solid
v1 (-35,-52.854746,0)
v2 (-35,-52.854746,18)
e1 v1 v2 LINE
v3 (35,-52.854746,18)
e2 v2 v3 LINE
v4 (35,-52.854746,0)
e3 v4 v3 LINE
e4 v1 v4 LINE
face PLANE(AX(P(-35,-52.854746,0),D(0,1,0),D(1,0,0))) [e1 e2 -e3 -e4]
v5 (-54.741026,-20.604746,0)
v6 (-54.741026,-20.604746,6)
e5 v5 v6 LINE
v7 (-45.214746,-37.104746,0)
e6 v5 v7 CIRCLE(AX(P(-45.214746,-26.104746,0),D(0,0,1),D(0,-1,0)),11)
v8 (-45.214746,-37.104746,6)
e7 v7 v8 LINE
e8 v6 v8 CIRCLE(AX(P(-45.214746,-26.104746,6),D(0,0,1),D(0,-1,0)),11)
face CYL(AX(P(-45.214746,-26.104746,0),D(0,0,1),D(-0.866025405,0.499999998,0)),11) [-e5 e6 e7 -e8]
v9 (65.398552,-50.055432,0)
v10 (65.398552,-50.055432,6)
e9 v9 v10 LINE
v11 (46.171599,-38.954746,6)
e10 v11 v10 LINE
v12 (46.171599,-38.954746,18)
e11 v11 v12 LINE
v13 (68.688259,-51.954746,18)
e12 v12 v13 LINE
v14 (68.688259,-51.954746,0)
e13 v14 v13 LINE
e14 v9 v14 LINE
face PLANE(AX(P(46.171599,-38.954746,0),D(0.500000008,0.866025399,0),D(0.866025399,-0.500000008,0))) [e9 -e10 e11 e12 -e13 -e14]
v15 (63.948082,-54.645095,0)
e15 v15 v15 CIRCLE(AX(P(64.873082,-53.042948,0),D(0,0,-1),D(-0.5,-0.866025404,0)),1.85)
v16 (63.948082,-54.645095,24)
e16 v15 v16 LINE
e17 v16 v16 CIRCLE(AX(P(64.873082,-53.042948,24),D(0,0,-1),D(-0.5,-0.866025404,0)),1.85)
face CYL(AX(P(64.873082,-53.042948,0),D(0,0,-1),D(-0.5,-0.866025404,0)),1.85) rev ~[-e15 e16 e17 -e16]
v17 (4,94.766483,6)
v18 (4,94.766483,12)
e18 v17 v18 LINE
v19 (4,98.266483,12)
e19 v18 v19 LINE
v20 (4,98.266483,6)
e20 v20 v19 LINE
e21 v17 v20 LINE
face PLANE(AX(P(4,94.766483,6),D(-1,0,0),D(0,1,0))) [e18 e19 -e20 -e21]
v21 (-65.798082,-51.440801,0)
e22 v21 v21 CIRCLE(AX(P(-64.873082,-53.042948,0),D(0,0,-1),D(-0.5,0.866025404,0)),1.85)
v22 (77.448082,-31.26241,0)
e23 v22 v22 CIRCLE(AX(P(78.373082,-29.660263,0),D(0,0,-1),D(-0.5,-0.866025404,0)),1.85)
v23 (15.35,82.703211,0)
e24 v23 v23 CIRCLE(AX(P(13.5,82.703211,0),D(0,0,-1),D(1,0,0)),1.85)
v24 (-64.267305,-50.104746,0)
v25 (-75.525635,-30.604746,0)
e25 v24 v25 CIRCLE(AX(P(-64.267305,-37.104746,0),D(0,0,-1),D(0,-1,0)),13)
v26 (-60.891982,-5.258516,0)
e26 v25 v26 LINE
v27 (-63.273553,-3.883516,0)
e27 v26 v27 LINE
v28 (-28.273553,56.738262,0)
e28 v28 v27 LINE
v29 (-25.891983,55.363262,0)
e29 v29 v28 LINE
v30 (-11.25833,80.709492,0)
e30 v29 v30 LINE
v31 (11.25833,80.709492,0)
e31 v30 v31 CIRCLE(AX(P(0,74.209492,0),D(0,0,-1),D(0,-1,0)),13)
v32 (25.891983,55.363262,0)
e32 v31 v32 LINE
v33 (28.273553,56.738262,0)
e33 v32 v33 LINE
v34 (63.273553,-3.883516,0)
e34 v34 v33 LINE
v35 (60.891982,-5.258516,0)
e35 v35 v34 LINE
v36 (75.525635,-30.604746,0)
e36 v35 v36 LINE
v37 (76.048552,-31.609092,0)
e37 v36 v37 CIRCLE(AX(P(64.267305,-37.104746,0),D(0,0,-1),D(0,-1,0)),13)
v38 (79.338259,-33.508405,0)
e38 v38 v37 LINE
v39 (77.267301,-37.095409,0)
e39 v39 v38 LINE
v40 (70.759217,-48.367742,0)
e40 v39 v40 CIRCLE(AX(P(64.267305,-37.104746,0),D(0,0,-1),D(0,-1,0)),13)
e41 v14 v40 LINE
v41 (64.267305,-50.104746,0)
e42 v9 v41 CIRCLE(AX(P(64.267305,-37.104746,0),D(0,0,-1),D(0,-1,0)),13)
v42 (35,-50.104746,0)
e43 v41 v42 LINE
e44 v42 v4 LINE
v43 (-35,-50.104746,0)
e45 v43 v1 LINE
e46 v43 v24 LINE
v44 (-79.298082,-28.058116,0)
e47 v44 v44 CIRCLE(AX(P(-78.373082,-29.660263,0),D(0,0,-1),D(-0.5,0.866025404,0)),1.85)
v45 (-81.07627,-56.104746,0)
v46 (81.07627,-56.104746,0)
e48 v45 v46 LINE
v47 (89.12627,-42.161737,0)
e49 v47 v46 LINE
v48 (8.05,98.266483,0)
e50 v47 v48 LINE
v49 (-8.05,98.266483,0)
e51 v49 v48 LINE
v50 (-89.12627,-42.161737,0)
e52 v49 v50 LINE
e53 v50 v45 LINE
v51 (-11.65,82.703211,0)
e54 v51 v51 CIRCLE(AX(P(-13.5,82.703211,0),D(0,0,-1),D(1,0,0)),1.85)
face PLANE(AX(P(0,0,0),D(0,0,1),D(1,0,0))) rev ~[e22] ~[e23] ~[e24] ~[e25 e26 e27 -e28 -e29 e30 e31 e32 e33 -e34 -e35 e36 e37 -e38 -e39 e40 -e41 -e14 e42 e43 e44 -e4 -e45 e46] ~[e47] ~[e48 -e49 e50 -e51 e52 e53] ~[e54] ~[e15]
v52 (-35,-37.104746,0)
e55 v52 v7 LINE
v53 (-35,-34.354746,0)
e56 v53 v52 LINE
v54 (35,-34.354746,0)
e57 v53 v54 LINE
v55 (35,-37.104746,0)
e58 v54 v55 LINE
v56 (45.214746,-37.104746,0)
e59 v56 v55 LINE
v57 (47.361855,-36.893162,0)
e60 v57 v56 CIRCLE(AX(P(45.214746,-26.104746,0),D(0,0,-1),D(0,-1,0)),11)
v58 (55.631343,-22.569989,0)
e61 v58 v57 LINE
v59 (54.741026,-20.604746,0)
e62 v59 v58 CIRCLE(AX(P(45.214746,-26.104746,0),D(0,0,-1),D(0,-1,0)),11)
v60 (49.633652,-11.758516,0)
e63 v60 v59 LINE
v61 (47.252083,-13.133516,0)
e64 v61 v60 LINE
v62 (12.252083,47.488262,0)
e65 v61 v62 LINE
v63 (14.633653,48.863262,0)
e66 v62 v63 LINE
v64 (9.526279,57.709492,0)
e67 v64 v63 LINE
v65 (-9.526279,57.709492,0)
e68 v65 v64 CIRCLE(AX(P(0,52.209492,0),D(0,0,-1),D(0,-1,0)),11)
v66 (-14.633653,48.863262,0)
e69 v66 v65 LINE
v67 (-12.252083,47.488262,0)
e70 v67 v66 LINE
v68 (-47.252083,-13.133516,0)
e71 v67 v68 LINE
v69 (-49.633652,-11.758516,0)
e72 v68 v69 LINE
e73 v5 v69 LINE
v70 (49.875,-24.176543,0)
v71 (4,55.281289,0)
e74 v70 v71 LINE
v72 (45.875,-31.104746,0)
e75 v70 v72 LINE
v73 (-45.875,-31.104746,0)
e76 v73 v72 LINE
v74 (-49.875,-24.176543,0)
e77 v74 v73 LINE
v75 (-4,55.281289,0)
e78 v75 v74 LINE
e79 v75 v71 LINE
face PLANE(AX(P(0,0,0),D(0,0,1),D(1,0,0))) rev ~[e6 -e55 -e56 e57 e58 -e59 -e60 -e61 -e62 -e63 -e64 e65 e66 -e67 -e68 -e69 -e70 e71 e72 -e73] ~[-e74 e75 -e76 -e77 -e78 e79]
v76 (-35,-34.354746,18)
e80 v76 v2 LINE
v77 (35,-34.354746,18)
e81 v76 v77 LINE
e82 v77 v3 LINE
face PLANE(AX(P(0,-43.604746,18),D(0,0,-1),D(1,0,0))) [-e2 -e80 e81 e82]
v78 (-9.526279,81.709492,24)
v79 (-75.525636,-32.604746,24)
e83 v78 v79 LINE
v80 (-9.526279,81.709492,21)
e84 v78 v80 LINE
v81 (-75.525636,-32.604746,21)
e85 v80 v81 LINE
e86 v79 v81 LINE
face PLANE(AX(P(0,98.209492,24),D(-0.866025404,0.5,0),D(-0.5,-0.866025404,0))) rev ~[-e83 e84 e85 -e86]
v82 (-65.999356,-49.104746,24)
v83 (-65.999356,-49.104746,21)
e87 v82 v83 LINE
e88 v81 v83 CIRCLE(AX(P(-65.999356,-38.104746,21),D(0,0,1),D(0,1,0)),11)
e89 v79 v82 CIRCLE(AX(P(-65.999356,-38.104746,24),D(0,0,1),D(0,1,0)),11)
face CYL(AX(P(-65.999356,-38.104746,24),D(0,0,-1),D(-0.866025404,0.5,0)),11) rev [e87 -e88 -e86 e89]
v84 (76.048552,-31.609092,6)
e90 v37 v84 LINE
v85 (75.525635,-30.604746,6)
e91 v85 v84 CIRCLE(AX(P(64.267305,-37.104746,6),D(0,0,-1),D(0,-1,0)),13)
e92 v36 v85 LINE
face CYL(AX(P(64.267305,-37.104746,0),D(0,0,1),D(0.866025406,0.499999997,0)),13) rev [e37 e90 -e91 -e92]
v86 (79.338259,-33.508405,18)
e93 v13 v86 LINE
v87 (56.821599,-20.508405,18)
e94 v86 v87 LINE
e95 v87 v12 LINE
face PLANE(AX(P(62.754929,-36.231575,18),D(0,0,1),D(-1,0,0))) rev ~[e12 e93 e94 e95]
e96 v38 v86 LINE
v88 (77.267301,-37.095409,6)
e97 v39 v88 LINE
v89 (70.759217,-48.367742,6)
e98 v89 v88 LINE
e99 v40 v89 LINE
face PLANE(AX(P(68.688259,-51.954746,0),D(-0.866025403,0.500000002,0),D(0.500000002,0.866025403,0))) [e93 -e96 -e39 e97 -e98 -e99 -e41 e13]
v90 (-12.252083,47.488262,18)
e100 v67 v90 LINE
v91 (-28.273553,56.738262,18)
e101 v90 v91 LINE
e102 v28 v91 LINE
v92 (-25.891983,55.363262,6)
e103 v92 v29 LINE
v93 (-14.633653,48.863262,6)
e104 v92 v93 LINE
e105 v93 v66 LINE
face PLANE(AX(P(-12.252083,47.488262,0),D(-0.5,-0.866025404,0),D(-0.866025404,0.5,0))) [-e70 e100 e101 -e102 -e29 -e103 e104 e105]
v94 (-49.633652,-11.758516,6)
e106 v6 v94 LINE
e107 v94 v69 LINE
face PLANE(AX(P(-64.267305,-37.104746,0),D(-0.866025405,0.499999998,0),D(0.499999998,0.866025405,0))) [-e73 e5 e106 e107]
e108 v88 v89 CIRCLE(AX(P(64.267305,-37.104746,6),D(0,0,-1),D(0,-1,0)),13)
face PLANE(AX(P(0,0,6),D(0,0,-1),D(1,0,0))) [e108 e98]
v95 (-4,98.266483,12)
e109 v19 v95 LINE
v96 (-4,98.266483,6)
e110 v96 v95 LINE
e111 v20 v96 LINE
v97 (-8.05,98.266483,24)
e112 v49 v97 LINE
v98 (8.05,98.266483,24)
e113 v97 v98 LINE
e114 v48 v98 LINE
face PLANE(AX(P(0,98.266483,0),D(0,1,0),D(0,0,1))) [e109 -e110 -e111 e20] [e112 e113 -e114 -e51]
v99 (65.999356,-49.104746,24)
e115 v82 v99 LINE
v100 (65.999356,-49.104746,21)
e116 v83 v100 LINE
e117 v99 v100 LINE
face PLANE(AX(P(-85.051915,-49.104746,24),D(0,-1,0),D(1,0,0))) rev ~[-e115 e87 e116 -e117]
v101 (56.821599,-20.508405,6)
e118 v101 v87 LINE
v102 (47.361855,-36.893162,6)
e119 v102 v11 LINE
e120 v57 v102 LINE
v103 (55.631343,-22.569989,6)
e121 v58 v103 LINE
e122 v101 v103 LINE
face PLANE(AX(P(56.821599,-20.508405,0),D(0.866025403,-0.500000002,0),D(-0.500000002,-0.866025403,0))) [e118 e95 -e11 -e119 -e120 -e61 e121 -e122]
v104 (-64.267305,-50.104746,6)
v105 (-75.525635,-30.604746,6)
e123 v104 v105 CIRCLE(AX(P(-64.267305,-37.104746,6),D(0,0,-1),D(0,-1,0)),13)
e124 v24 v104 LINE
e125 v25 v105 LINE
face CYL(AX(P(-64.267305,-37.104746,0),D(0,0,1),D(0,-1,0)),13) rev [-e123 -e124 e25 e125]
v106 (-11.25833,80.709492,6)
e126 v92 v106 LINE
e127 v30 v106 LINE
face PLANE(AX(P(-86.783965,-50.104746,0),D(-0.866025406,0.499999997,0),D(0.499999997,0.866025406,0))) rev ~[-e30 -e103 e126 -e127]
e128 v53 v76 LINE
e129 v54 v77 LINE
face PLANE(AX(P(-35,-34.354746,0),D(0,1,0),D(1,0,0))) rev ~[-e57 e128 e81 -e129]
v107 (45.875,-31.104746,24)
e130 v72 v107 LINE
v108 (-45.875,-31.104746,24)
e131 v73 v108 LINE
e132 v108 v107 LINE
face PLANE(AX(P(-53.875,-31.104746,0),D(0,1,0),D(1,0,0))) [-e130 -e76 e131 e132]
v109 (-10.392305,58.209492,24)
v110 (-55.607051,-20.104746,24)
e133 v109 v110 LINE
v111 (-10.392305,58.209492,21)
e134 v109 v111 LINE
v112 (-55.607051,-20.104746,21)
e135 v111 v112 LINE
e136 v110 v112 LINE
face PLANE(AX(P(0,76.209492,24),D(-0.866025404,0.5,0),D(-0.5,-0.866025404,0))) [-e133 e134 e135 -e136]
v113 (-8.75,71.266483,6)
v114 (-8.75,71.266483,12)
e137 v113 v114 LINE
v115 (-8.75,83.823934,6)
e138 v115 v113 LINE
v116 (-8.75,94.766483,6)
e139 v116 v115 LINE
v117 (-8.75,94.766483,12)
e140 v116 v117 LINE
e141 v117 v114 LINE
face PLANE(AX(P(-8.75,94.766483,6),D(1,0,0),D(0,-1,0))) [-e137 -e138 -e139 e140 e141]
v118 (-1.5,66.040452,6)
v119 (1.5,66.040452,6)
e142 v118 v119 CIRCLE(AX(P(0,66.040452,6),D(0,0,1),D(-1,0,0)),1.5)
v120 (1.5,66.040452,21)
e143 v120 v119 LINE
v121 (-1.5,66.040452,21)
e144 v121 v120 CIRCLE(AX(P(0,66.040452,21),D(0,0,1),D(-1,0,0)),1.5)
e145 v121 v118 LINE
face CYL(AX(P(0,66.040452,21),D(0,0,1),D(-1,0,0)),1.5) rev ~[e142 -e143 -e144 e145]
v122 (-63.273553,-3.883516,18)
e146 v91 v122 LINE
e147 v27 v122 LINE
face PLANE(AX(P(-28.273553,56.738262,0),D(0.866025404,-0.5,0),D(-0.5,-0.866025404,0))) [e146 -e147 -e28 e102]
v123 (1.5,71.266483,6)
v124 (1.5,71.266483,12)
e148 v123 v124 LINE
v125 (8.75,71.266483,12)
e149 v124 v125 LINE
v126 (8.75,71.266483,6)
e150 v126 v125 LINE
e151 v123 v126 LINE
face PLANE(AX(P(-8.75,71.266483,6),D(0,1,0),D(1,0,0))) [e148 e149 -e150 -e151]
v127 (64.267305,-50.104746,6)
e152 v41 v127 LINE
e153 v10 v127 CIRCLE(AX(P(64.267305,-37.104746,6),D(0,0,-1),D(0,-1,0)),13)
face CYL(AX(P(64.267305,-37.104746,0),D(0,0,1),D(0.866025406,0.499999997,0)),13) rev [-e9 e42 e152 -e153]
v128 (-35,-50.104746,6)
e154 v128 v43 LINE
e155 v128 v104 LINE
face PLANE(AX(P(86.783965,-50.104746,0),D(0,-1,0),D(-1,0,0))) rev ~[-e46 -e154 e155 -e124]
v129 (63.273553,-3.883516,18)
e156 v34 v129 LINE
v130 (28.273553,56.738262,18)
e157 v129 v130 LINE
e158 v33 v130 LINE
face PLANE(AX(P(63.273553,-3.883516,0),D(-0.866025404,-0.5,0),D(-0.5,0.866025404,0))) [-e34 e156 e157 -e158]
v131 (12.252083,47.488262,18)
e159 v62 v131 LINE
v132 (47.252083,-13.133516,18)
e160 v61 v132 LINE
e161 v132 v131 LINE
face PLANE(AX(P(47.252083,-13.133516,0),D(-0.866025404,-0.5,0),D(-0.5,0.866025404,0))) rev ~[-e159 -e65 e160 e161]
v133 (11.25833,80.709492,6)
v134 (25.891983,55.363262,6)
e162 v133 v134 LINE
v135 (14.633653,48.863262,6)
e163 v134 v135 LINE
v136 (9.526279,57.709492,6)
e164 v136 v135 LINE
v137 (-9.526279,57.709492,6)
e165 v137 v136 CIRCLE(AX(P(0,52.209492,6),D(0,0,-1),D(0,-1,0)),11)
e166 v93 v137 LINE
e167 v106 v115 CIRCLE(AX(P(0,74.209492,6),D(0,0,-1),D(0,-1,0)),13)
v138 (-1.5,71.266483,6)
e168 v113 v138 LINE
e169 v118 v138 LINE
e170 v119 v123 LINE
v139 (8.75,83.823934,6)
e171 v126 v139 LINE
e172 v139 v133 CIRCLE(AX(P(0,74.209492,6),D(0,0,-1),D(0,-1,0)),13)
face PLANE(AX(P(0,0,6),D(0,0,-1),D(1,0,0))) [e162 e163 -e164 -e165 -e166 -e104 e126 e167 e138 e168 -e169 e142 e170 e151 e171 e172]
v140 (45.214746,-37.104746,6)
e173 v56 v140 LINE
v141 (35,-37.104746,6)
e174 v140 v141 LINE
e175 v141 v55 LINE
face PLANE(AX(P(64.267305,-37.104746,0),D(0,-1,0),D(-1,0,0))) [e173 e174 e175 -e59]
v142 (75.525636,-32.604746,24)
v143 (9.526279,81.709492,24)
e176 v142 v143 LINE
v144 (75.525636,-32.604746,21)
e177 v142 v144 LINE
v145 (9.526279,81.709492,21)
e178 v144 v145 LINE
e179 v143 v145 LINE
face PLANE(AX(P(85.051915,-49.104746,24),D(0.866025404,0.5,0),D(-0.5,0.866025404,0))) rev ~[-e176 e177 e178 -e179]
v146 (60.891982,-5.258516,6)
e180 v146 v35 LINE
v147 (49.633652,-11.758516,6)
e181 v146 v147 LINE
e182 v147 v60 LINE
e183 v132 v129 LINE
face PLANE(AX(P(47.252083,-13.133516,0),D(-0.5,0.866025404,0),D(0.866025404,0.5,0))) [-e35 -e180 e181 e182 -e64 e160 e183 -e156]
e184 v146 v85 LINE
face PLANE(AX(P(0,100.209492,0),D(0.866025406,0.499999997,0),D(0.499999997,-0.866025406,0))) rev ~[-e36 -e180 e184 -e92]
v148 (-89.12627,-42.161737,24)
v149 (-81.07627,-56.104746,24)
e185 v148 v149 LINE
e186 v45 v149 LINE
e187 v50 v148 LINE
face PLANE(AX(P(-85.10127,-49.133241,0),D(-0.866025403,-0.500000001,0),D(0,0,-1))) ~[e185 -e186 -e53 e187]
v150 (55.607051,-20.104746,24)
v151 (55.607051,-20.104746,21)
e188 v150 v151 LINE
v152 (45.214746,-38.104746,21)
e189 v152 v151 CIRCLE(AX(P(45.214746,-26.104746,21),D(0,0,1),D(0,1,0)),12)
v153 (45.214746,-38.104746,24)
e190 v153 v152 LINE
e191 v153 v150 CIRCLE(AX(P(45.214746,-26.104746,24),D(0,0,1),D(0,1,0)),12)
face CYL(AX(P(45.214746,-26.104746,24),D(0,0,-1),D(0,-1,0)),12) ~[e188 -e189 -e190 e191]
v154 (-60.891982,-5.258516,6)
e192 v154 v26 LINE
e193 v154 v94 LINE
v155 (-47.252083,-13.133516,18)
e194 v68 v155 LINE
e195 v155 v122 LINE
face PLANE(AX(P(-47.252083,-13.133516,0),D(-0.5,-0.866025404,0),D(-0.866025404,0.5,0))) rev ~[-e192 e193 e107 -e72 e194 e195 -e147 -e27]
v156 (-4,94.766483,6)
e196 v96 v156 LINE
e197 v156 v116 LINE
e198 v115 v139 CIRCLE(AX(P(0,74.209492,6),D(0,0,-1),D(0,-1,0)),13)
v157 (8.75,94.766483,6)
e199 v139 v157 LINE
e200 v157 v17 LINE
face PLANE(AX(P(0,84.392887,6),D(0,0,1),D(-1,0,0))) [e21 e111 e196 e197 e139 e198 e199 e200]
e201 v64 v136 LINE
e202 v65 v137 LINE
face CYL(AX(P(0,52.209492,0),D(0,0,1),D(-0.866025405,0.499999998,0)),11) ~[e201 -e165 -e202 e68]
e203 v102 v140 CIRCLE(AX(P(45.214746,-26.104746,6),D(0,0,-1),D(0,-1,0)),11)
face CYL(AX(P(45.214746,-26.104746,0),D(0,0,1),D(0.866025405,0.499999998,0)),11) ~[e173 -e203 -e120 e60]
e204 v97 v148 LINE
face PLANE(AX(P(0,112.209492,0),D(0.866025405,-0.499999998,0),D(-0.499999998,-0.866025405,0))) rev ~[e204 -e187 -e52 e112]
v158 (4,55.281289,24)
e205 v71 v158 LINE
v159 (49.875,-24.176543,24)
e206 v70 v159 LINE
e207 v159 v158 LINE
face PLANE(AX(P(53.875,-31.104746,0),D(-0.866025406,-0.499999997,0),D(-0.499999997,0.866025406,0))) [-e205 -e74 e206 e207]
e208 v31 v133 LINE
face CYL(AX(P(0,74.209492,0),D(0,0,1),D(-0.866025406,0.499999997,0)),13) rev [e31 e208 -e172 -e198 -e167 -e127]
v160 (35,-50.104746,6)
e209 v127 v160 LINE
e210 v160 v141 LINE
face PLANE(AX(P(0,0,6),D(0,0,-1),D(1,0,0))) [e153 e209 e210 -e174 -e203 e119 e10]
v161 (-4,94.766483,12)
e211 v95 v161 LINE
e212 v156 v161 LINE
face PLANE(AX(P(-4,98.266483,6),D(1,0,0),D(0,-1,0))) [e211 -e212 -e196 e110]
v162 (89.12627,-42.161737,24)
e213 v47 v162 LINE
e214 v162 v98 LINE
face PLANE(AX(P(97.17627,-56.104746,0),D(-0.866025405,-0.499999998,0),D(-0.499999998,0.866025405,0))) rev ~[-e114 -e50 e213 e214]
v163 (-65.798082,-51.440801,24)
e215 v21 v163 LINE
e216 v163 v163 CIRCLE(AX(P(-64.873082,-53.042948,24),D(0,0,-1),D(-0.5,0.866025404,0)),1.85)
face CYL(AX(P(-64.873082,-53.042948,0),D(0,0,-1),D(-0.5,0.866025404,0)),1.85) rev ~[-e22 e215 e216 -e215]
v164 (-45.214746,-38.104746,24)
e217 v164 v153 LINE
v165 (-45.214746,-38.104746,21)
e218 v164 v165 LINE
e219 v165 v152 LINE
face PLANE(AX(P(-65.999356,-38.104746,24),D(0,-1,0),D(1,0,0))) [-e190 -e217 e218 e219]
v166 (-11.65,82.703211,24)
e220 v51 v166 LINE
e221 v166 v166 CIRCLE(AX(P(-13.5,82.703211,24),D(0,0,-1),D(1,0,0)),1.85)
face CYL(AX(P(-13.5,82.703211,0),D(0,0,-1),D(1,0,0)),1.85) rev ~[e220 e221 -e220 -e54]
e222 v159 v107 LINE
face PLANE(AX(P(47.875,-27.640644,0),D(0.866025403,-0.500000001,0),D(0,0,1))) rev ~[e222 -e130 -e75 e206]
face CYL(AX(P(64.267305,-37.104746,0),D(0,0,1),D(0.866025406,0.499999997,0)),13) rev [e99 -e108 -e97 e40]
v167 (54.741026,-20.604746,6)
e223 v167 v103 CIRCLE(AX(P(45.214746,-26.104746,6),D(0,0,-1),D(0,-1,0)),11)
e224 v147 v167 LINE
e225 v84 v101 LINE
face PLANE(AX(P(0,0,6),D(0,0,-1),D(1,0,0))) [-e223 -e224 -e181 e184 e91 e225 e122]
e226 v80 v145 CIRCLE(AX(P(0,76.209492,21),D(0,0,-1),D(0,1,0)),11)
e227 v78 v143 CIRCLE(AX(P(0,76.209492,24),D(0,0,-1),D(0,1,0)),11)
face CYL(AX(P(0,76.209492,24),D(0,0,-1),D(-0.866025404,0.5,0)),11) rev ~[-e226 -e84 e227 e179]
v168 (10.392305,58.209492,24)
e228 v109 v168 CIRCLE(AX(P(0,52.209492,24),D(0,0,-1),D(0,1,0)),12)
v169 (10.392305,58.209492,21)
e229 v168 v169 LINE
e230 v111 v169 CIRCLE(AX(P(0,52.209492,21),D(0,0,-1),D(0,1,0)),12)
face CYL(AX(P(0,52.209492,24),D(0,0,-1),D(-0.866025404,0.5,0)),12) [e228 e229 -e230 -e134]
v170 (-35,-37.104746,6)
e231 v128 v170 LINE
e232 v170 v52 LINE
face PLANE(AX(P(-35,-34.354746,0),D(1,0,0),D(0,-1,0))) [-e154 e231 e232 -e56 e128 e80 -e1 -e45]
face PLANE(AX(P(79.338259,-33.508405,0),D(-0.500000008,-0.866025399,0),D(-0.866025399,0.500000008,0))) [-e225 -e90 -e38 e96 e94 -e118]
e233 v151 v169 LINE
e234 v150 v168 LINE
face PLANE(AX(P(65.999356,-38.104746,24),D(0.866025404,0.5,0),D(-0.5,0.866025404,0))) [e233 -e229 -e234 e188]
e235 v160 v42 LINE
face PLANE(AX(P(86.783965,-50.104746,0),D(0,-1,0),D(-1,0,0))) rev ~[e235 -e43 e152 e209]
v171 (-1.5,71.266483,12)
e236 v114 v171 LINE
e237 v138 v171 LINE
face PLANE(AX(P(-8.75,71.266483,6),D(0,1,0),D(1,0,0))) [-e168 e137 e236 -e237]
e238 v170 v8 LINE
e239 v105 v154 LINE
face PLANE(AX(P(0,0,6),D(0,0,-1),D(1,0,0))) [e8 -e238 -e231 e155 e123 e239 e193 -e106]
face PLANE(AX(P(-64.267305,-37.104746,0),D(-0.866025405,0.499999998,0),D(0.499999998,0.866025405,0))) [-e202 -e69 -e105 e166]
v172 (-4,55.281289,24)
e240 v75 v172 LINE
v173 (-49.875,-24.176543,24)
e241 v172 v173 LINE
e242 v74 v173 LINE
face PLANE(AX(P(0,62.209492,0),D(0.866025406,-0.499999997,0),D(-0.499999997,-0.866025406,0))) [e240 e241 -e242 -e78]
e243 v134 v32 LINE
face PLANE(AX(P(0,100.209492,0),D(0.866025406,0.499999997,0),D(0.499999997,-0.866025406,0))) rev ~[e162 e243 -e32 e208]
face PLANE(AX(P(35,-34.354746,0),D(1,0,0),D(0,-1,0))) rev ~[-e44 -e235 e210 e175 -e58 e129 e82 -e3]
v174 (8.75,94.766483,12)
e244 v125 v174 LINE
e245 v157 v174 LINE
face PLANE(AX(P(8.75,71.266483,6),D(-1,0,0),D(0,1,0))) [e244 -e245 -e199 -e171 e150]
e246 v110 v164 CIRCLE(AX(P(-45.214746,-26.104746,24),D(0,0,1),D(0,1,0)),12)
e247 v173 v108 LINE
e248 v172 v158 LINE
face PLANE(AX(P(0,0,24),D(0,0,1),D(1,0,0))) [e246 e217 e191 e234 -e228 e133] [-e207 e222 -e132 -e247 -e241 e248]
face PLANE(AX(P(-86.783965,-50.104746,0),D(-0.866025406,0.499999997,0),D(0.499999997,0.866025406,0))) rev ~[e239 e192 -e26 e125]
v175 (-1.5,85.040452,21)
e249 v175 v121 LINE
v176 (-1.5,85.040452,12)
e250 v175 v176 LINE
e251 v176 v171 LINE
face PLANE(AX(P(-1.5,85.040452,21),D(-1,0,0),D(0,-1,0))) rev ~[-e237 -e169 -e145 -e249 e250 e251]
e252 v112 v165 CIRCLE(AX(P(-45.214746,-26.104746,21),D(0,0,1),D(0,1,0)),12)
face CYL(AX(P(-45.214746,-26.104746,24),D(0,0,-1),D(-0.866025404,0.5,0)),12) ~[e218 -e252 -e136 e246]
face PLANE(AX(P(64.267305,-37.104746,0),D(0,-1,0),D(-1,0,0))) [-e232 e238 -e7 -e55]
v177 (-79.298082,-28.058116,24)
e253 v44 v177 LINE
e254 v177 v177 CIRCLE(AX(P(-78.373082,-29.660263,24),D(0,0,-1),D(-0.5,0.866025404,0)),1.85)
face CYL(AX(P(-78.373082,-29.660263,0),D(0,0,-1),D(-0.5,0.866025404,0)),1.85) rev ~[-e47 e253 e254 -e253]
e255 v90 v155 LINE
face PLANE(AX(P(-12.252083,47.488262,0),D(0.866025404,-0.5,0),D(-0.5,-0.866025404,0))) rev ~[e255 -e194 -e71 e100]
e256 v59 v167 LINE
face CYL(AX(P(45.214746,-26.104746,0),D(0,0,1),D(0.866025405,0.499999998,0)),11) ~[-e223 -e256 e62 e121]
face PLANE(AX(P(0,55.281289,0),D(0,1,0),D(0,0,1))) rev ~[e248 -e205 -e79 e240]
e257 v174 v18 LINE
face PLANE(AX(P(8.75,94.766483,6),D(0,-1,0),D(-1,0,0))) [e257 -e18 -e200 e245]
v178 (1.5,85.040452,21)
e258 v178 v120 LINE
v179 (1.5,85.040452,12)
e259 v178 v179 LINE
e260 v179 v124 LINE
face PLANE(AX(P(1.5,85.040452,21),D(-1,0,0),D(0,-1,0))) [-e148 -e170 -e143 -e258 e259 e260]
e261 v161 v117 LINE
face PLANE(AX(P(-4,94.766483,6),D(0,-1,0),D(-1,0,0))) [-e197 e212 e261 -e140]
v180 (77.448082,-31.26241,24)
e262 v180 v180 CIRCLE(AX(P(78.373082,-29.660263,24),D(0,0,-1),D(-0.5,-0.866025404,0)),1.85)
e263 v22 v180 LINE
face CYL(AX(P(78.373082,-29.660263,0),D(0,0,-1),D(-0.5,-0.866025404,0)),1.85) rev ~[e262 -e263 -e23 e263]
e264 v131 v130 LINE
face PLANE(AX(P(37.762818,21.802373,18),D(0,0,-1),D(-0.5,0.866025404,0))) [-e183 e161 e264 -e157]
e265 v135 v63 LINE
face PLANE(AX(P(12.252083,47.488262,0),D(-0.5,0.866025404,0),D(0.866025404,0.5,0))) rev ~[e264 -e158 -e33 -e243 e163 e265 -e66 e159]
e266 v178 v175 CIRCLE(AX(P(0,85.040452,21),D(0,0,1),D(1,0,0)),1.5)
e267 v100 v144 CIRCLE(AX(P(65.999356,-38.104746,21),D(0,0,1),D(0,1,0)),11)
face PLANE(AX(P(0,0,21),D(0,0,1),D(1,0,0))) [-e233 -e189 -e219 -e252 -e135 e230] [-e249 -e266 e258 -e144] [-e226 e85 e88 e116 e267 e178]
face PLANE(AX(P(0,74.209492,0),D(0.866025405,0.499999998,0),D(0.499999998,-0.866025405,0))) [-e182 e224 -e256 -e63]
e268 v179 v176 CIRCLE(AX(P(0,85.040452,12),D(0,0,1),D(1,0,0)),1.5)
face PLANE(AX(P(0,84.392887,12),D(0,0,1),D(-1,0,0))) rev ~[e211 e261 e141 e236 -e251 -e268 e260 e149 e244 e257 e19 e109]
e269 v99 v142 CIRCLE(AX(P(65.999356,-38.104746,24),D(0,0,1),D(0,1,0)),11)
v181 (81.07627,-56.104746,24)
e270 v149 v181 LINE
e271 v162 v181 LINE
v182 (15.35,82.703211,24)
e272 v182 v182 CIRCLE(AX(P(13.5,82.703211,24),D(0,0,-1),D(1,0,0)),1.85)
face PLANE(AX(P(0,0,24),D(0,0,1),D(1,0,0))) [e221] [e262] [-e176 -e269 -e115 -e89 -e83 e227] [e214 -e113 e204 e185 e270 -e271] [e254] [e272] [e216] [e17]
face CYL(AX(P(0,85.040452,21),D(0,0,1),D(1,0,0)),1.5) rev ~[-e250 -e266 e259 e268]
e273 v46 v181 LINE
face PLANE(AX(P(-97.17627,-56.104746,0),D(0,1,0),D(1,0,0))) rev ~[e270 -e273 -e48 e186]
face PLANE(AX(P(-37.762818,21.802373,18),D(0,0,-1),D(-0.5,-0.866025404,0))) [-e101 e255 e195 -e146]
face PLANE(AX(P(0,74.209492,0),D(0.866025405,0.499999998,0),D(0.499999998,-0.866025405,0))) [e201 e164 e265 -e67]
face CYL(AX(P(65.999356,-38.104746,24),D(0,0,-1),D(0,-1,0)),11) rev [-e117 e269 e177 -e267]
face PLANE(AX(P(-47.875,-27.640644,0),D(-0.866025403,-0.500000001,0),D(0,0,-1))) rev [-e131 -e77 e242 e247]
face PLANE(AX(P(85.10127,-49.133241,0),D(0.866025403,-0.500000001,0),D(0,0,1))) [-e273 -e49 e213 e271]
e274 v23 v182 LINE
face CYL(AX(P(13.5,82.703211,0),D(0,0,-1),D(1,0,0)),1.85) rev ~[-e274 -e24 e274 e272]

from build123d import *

# Parameters (mm, degrees)
PAD_DEPTH             = 24
POCKET_DEPTH          = 3
SKETCH002_W           = 70
SKETCH002_H           = 18.5
POCKET001_DEPTH       = 18
POLARPATTERN_COUNT    = 3
POCKET002_DEPTH       = 6
CHAMFER_SIZE          = 8
FILLET_R              = 13
FILLET001_R           = 11
CHAMFER001_SIZE       = 16.1
FILLET002_R           = 11
FILLET003_R           = 12
POCKET003_DEPTH       = 6
POCKET004_DEPTH       = 18
POCKET005_DEPTH       = 21.001
SKETCH012_R           = 1.85
POCKET011_DEPTH       = 498.049286
POLARPATTERN001_COUNT = 3


with BuildPart() as part:
    # Sketch → Pad (new body)
    with BuildSketch(Plane.XY):
        Polygon((0, 112.209492), (-97.17627, -56.104746), (97.17627, -56.104746), align=None)
        Polygon((0, 62.209492), (-53.875, -31.104746), (53.875, -31.104746), align=None, mode=Mode.SUBTRACT)
    extrude(amount=PAD_DEPTH)

    # Sketch001 (on Face8 of Pad) → Pocket (cut)
    with BuildSketch(Plane.XY.offset(24)):
        Polygon((0, 98.209492), (-85.051915, -49.104746), (85.051915, -49.104746), align=None)
        Polygon((0, 76.209492), (-65.999356, -38.104746), (65.999356, -38.104746), align=None, mode=Mode.SUBTRACT)
    extrude(amount=-POCKET_DEPTH, mode=Mode.SUBTRACT)

    # Sketch002 (on Face4 of Pocket) → Pocket001 (cut)
    with BuildSketch(Plane(origin=(0, 0, 0), x_dir=(1, 0, 0), z_dir=(0, 0, -1))):
        with Locations((0, 43.604746)):
            Rectangle(SKETCH002_W, SKETCH002_H)
    pocket001 = extrude(amount=-POCKET001_DEPTH, mode=Mode.SUBTRACT)

    # PolarPattern: Pocket001 ×3 about axis
    polarpattern_axis = Axis((0, 0, 0), (0, 0, -1))
    for i in range(1, POLARPATTERN_COUNT):
        add(pocket001.rotate(polarpattern_axis, i * 360 / POLARPATTERN_COUNT), mode=Mode.SUBTRACT)

    # Sketch003 (on Face4 of PolarPattern) → Pocket002 (cut)
    with BuildSketch(Plane(origin=(0, 0, 0), x_dir=(1, 0, 0), z_dir=(0, 0, -1))):
        Polygon((0, -100.209492), (86.783965, 50.104746), (-86.783965, 50.104746), align=None)
        Polygon((0, -74.209492), (64.267305, 37.104746), (-64.267305, 37.104746), align=None, mode=Mode.SUBTRACT)
    extrude(amount=-POCKET002_DEPTH, mode=Mode.SUBTRACT)

    # Chamfer
    chamfer_edges = [part.edges().sort_by_distance(p)[0] for p in [
        (-53.875, -31.104746, 12),
        (53.875, -31.104746, 12),
        (0, 62.209492, 12),
    ]]
    chamfer(chamfer_edges, length=CHAMFER_SIZE)

    # Fillet
    fillet_edges = [part.edges().sort_by_distance(p)[0] for p in [
        (0, 100.209492, 3),
        (-86.783965, -50.104746, 3),
        (86.783965, -50.104746, 3),
    ]]
    fillet(fillet_edges, radius=FILLET_R)

    # Fillet001
    fillet001_edges = [part.edges().sort_by_distance(p)[0] for p in [
        (0, 74.209492, 3),
        (64.267305, -37.104746, 3),
        (-64.267305, -37.104746, 3),
    ]]
    fillet(fillet001_edges, radius=FILLET001_R)

    # Chamfer001
    chamfer001_edges = [part.edges().sort_by_distance(p)[0] for p in [
        (97.17627, -56.104746, 12),
        (0, 112.209492, 12),
        (-97.17627, -56.104746, 12),
    ]]
    chamfer(chamfer001_edges, length=CHAMFER001_SIZE)

    # Fillet002
    fillet002_edges = [part.edges().sort_by_distance(p)[0] for p in [
        (0, 98.209492, 22.5),
        (-85.051915, -49.104746, 22.5),
        (85.051915, -49.104746, 22.5),
    ]]
    fillet(fillet002_edges, radius=FILLET002_R)

    # Fillet003
    fillet003_edges = [part.edges().sort_by_distance(p)[0] for p in [
        (65.999356, -38.104746, 22.5),
        (0, 76.209492, 22.5),
        (-65.999356, -38.104746, 22.5),
    ]]
    fillet(fillet003_edges, radius=FILLET003_R)

    # Sketch004 (on Face60 of Fillet003) → Pocket003 (cut)
    with BuildSketch(Plane(origin=(0, 0, 6), x_dir=(1, 0, 0), z_dir=(0, 0, -1))):
        Polygon((-8.75, -71.266483), (8.75, -71.266483), (8.75, -94.766483), (4, -94.766483), (4, -98.266483), (-4, -98.266483), (-4, -94.766483), (-8.75, -94.766483), align=None)
    extrude(amount=-POCKET003_DEPTH, mode=Mode.SUBTRACT)

    # Sketch005 (on Face29 of Pocket003) → Pocket004 (cut)
    with BuildSketch(Plane(origin=(0, 0, 0), x_dir=(1, 0, 0), z_dir=(0, 0, -1))):
        Polygon((46.171599, 38.954746), (68.688259, 51.954746), (79.338259, 33.508405), (56.821599, 20.508405), align=None)
    extrude(amount=-POCKET004_DEPTH, mode=Mode.SUBTRACT)

    # Sketch006 (on Face1 of Pocket004) → Pocket005 (cut, through all)
    with BuildSketch(Plane.XY.offset(21)):
        with BuildLine():
            ThreePointArc((1.5, 85.040452), (0, 86.540452), (-1.5, 85.040452))
            Line((-1.5, 85.040452), (-1.5, 66.040452))
            ThreePointArc((-1.5, 66.040452), (0, 64.540452), (1.5, 66.040452))
            Line((1.5, 85.040452), (1.5, 66.040452))
        make_face()
    extrude(amount=-POCKET005_DEPTH, mode=Mode.SUBTRACT)

    # Sketch012 → Pocket011 (cut, through all)
    with BuildSketch(Plane(origin=(0, 0, 0), x_dir=(1, 0, 0), z_dir=(0, 0, -1))):
        with Locations((-13.5, -82.703211)):
            Circle(SKETCH012_R)
        with Locations((13.5, -82.703211)):
            Circle(SKETCH012_R)
    pocket011 = extrude(amount=-POCKET011_DEPTH, mode=Mode.SUBTRACT)

    # PolarPattern001: Pocket011 ×3 about axis
    polarpattern001_axis = Axis((0, 0, 0), (0, 0, -1))
    for i in range(1, POLARPATTERN001_COUNT):
        add(pocket011.rotate(polarpattern001_axis, i * 360 / POLARPATTERN001_COUNT), mode=Mode.SUBTRACT)


solid = part.part
